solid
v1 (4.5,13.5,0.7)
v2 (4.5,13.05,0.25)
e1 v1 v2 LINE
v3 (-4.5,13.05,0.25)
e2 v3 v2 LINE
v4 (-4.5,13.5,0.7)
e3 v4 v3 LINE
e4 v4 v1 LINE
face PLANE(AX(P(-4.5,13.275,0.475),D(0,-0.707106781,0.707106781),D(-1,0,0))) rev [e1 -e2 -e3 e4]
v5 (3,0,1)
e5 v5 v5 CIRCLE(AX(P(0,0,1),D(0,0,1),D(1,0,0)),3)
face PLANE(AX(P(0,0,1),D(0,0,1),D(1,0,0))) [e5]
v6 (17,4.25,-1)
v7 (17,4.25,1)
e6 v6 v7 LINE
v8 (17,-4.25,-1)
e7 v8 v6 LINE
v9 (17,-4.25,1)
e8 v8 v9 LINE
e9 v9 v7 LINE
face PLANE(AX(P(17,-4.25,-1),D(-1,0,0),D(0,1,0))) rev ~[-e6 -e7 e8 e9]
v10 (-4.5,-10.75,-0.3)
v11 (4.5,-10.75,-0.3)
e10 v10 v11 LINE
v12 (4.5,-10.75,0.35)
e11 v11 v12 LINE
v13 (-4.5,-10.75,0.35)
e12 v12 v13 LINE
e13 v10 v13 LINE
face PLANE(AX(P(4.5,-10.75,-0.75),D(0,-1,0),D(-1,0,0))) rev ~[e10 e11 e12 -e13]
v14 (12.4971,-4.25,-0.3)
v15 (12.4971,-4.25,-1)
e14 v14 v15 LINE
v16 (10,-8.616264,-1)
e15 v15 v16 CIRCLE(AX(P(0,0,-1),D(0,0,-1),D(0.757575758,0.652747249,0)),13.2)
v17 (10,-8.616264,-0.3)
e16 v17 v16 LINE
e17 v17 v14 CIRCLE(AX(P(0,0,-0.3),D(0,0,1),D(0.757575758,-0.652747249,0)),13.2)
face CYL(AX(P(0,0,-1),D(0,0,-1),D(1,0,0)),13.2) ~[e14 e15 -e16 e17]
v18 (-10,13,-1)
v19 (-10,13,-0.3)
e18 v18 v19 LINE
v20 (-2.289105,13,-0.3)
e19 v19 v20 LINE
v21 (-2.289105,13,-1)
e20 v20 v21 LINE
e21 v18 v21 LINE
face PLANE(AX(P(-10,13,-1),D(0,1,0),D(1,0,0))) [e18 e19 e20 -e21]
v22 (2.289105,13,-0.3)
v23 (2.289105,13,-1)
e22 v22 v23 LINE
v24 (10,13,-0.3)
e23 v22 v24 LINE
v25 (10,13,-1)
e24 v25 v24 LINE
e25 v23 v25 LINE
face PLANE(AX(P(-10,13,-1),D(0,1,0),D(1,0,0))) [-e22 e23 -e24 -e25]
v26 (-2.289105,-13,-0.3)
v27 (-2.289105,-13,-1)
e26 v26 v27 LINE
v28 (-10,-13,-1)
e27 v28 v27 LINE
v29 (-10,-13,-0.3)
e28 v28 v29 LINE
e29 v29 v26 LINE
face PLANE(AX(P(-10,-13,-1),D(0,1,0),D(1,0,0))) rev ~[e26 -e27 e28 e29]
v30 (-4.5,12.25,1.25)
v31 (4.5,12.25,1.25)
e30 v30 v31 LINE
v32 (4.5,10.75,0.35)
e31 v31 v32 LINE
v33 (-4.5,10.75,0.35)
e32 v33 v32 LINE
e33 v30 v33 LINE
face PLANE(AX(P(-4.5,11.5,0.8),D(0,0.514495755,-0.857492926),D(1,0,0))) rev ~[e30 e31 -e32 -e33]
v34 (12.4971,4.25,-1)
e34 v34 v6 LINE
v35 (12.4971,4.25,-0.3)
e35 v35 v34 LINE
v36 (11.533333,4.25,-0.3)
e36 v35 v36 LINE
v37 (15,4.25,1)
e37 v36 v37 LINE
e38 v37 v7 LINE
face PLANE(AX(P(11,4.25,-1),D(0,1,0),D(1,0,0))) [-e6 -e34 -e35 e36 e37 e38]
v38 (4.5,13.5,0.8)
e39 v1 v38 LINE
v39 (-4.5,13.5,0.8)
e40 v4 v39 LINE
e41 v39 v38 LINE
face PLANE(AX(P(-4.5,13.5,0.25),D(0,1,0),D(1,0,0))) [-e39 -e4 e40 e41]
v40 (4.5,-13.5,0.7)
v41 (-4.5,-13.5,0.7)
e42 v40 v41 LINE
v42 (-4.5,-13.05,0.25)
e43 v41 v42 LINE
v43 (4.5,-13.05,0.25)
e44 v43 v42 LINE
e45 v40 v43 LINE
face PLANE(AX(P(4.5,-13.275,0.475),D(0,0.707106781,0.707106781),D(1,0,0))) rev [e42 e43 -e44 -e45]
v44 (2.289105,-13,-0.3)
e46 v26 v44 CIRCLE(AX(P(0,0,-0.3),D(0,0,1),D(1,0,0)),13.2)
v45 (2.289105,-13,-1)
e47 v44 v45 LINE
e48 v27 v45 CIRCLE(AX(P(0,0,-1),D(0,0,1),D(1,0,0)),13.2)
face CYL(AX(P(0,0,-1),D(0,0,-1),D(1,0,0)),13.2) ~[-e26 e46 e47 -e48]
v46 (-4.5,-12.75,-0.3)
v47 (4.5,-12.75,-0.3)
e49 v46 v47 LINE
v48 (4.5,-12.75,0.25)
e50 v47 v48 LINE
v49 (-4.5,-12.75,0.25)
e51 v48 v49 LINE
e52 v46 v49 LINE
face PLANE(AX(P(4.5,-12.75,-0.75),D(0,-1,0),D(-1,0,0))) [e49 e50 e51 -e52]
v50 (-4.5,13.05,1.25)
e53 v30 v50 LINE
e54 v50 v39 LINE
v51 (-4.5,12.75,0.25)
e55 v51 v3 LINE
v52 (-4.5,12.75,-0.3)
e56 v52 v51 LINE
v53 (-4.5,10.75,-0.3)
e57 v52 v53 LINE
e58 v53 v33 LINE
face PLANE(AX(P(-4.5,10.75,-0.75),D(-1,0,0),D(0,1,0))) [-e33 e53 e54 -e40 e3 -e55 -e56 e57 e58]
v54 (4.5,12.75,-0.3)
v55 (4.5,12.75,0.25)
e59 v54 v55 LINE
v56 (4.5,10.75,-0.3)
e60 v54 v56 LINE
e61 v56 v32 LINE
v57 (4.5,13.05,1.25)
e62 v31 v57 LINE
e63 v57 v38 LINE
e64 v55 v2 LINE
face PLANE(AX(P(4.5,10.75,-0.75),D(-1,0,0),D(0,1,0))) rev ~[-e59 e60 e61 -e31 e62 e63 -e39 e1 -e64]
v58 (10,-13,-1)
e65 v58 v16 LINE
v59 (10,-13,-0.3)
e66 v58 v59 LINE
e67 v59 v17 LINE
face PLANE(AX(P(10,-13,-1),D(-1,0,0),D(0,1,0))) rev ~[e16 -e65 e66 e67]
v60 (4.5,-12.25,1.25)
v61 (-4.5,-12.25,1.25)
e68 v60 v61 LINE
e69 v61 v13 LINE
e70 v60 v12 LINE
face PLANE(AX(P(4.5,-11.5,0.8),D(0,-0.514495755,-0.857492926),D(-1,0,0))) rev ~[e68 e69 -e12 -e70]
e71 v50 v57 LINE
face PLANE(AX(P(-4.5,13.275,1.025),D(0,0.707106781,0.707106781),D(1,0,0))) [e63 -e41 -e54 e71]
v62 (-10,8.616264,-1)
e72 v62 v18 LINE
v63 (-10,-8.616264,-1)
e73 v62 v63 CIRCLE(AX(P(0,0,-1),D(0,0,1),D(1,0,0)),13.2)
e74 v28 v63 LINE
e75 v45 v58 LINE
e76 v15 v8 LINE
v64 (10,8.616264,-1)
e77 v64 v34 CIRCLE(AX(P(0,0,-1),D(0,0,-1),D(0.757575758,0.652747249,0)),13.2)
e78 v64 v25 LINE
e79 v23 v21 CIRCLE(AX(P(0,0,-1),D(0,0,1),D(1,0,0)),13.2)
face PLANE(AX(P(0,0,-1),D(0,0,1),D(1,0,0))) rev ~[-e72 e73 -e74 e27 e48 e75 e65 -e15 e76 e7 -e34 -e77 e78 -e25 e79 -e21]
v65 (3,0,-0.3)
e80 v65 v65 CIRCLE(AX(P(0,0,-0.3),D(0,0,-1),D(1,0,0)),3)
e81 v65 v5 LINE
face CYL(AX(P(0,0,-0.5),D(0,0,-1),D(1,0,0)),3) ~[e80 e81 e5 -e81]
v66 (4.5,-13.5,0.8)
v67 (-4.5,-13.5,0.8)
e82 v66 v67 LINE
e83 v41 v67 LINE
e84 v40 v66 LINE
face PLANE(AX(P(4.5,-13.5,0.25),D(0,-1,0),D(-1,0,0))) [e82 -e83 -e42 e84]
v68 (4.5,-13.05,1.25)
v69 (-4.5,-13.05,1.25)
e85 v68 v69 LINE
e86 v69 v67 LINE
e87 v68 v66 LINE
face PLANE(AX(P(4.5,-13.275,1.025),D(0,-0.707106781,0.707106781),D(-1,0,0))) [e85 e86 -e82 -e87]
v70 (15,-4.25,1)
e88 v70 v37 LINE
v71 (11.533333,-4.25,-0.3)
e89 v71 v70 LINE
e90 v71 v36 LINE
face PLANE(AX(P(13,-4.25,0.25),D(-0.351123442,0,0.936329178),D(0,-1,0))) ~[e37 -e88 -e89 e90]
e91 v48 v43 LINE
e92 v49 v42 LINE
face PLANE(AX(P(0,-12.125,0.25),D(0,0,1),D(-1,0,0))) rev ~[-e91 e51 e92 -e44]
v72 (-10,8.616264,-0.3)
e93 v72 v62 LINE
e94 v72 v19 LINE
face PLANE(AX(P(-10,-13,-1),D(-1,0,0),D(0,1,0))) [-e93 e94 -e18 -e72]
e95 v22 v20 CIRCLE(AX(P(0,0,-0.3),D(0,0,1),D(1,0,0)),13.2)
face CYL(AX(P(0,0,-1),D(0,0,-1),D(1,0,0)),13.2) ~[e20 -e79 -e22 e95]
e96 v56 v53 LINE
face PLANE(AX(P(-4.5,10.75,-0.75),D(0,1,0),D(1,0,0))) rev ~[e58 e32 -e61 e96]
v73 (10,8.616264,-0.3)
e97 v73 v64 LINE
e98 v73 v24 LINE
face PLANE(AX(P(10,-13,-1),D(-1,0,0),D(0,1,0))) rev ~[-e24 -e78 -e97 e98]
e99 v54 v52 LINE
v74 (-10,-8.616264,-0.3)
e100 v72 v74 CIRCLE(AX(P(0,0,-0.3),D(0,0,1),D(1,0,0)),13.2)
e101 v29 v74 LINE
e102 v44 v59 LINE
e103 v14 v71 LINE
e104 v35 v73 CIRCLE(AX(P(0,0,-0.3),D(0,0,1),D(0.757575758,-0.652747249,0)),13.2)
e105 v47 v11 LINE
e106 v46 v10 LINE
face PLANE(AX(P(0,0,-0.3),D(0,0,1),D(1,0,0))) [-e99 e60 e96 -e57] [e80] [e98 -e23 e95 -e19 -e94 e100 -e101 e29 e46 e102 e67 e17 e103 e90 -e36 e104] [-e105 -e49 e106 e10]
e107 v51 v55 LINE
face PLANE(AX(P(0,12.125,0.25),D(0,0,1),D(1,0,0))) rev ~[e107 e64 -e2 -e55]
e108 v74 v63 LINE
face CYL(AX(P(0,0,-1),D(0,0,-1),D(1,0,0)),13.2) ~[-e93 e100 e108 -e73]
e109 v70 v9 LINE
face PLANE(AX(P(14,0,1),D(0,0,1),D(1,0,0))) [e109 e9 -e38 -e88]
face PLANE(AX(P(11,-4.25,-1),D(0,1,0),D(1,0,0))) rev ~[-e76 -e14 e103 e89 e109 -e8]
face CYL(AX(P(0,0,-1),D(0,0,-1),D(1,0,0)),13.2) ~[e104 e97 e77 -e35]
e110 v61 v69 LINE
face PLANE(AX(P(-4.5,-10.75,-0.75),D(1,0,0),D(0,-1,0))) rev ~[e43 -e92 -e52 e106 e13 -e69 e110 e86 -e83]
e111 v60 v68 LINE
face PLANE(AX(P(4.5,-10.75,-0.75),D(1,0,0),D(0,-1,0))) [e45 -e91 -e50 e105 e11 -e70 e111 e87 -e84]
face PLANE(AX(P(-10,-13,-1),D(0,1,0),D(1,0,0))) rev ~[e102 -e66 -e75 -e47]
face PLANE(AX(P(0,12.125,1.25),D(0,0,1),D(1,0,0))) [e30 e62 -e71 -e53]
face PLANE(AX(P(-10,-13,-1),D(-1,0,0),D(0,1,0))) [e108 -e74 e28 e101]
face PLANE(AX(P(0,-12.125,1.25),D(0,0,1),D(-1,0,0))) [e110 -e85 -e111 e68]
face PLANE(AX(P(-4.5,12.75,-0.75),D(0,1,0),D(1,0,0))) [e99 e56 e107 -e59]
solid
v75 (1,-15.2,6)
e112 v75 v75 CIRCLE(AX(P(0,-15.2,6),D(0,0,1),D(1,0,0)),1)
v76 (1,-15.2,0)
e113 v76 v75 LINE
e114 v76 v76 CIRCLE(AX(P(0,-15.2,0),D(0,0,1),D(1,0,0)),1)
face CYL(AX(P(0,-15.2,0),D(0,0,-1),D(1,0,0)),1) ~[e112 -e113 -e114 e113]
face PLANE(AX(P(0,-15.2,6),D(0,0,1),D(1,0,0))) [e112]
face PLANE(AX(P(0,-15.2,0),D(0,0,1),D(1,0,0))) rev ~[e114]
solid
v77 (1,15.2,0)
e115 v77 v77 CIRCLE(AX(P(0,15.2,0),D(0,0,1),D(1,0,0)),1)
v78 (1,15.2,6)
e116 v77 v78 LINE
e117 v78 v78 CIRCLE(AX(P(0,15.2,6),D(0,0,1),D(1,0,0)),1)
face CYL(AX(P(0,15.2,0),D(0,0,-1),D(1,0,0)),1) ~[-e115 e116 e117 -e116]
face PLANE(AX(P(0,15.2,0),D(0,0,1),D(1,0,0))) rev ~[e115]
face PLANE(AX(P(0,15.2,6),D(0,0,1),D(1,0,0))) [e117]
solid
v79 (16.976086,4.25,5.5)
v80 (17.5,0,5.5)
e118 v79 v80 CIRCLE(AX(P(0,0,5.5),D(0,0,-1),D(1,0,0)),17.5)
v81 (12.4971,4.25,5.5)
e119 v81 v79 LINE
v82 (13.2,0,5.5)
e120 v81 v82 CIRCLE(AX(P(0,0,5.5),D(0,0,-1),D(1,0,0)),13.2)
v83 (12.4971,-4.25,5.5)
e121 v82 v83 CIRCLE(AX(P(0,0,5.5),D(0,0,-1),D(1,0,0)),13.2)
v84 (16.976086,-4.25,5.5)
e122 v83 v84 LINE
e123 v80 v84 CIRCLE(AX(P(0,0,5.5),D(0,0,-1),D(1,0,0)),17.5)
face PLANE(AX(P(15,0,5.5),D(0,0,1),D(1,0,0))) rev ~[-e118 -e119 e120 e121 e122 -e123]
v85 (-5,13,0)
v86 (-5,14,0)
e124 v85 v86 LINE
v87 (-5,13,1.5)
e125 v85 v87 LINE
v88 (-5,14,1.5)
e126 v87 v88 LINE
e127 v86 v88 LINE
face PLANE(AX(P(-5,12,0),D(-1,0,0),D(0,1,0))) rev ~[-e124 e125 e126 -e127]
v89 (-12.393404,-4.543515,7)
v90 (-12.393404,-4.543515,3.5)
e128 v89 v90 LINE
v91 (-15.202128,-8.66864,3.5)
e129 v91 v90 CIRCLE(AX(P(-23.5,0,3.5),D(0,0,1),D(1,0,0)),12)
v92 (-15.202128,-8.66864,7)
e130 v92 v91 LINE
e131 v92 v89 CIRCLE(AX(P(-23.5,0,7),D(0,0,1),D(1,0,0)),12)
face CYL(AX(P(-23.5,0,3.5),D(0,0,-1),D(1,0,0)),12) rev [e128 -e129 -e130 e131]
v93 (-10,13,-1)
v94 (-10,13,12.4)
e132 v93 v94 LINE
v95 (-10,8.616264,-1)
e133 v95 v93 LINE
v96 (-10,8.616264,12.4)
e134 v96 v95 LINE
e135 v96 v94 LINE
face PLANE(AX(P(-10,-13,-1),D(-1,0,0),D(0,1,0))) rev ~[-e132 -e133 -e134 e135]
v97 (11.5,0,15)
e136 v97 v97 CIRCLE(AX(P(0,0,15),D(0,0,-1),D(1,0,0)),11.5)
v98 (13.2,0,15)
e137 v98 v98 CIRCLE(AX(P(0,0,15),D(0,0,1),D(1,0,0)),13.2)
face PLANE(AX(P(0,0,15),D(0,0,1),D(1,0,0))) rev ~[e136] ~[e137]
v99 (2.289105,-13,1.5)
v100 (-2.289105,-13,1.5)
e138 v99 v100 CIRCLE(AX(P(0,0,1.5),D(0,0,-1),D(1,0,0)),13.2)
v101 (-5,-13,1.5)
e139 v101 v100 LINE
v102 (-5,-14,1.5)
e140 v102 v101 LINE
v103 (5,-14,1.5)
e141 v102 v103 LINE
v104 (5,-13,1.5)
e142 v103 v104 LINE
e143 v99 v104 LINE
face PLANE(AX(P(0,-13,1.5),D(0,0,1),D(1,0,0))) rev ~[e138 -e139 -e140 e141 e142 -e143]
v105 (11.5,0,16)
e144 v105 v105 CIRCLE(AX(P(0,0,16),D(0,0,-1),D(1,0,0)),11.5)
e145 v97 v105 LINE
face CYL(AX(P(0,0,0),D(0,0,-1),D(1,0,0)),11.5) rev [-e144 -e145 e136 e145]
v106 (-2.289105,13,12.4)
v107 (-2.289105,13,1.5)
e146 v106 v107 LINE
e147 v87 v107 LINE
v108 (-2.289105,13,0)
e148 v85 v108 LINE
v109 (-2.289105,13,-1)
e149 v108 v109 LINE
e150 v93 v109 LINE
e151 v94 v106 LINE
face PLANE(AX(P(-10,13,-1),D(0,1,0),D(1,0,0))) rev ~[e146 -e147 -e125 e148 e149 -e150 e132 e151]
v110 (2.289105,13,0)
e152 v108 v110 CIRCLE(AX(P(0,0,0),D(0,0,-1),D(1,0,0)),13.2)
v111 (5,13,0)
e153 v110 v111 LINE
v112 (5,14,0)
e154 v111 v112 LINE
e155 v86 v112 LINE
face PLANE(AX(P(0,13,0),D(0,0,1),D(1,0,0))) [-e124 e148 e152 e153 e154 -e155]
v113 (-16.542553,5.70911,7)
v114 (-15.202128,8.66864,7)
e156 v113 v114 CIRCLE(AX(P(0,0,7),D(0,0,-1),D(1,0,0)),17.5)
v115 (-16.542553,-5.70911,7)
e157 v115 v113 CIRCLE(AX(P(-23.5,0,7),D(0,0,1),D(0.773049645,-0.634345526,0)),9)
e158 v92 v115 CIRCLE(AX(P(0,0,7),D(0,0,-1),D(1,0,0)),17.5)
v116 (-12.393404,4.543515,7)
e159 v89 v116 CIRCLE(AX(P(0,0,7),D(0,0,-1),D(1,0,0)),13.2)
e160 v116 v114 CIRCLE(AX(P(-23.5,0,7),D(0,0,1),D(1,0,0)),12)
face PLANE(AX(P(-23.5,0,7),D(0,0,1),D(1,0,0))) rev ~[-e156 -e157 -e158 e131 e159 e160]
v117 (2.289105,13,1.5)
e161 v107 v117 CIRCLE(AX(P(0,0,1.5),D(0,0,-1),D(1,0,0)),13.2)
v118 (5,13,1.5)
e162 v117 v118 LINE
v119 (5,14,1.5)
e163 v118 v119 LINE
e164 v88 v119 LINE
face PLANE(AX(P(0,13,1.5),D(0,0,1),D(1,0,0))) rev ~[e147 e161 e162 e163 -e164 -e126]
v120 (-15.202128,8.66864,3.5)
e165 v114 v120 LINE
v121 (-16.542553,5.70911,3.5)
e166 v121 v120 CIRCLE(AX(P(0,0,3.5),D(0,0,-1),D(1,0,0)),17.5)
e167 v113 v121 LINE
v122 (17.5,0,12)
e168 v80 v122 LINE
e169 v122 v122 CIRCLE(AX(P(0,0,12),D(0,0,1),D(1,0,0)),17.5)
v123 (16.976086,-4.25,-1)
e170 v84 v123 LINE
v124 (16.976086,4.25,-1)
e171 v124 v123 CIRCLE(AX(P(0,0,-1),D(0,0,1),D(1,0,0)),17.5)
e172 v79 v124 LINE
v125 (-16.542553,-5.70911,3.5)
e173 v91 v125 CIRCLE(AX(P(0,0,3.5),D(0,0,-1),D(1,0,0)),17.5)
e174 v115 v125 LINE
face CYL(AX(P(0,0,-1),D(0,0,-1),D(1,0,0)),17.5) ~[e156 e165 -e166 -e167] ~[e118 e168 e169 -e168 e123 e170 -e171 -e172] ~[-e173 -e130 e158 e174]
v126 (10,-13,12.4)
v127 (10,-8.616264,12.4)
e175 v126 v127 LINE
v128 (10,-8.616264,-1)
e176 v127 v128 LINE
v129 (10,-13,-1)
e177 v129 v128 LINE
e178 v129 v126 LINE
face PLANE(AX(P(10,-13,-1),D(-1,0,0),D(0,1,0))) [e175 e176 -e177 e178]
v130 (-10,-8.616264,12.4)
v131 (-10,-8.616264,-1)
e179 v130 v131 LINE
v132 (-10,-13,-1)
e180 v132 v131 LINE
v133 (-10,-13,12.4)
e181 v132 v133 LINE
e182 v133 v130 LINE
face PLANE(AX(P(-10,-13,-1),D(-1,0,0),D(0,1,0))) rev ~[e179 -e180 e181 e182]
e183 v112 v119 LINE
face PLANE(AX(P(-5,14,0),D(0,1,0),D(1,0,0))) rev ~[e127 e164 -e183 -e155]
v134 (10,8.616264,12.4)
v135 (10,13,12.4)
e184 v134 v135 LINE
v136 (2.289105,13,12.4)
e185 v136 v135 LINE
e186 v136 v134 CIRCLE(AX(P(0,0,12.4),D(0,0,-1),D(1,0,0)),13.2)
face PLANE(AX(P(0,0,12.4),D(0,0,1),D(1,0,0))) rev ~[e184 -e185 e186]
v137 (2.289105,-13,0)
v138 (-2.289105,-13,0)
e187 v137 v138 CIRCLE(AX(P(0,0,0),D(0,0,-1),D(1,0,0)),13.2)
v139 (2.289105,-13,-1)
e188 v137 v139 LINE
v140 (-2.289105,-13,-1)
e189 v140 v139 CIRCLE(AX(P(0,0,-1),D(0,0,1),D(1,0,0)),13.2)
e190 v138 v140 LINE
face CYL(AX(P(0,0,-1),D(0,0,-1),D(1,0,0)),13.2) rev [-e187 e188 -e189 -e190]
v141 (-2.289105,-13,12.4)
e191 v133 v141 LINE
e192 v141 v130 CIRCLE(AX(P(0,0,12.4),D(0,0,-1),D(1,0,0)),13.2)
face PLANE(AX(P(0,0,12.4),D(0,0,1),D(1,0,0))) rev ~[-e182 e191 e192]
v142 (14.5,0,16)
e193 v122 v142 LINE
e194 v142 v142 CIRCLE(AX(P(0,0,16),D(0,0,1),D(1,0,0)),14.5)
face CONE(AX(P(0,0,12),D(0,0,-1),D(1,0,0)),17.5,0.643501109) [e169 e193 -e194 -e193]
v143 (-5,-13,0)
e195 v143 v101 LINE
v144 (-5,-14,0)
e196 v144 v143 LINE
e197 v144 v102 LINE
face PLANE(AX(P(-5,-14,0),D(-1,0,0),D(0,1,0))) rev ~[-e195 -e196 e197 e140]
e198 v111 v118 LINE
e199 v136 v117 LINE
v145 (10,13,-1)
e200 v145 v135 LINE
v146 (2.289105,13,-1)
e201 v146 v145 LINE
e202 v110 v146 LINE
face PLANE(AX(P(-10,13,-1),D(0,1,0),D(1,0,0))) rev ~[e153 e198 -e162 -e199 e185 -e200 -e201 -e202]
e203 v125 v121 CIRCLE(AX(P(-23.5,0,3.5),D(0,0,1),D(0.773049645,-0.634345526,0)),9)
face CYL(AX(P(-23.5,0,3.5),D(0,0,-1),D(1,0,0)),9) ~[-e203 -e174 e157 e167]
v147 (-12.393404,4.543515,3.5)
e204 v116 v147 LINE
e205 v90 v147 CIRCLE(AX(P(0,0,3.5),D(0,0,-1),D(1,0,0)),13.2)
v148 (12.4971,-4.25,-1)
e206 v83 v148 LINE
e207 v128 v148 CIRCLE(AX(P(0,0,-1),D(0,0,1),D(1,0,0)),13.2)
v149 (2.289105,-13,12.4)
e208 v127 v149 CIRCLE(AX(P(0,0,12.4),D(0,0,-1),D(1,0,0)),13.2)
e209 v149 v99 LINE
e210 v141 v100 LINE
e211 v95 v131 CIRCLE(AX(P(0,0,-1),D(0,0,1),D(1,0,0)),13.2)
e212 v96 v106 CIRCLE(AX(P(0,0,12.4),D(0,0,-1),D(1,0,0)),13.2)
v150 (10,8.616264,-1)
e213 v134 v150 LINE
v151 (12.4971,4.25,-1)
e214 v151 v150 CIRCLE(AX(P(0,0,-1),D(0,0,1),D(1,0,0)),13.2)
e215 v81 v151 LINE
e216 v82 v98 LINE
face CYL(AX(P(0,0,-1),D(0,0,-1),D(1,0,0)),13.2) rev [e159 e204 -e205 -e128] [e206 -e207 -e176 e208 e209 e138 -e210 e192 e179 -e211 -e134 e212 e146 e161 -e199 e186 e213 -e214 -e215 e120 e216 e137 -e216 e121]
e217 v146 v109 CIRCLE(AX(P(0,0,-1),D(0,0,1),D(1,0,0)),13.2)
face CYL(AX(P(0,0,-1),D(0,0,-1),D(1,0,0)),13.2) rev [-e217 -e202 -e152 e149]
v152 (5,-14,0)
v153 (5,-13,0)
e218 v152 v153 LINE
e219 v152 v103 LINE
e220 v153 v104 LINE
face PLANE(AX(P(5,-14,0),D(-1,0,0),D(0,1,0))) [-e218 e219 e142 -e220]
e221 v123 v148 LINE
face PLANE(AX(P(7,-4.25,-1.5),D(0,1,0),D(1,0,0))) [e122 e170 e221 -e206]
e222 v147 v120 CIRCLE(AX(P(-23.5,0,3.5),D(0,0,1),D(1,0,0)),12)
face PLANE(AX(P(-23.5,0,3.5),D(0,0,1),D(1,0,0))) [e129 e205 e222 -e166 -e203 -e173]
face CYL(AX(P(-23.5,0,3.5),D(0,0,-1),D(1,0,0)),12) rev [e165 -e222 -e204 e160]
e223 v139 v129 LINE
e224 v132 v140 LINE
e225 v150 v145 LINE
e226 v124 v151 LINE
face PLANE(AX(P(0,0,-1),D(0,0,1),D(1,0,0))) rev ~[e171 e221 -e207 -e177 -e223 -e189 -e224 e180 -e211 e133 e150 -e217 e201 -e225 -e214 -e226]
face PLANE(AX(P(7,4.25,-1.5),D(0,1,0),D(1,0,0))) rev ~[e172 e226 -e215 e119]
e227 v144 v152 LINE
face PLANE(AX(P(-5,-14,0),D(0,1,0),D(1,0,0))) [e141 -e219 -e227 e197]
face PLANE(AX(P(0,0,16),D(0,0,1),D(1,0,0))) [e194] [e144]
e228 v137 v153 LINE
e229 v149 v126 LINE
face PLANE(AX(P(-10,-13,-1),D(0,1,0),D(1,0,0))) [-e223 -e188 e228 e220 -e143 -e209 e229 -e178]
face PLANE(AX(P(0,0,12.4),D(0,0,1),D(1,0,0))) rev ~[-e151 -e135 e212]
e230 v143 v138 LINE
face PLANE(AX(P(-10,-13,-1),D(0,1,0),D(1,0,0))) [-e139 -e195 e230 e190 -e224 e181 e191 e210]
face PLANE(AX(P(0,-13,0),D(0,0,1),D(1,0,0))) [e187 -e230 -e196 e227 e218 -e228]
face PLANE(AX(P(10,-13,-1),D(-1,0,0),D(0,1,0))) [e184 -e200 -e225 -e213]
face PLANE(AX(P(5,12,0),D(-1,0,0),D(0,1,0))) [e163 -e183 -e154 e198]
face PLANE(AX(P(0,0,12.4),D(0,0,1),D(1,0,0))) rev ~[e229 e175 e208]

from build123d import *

# Parameters (mm, degrees)
CYLINDER007_R              = 1
CYLINDER007_DEPTH          = 6
CYLINDER008_R              = 1
CYLINDER008_DEPTH          = 6
CYLINDER002_R              = 11.5
CYLINDER002_DEPTH          = 30
BOX_W                      = 20
BOX_H                      = 26
BOX_DEPTH                  = 13.4
BOX001_W                   = 16
BOX001_H                   = 8.5
BOX001_DEPTH               = 7
CYLINDER018_R              = 9
CYLINDER018_DEPTH          = 3.5
CYLINDER017_R              = 12
CYLINDER017_DEPTH          = 3.5
BOX006_W                   = 10
BOX006_H                   = 2
BOX006_DEPTH               = 1.5
BOX007_W                   = 10
BOX007_H                   = 2
BOX007_DEPTH               = 1.5
CYLINDER_R                 = 13.2
CYLINDER_DEPTH             = 16
CYLINDER006_R              = 17.5
CYLINDER006_DEPTH          = 17
CHAMFER_SIZE2              = 3
CHAMFER_SIZE               = 4
BOX002_W                   = 20
BOX002_H                   = 26
BOX002_DEPTH               = 0.7
CYLINDER016_R              = 3
CYLINDER016_DEPTH          = 1.5
BOX003_W                   = 6
BOX003_H                   = 8.5
BOX003_DEPTH               = 2
CHAMFER004_SIZE2           = 4
CHAMFER004_SIZE            = 1.5
BOX008_W                   = 9
BOX008_H                   = 2
BOX008_DEPTH               = 1
BOX004_W                   = 9
BOX004_H                   = 2.75
BOX004_DEPTH               = 1
CHAMFER005_SIZE2           = 0.9
CHAMFER005_SIZE            = 1.5
CHAMFER006_SIZE            = 0.45
CHAMFER006_PLACEMENT_ANGLE = 180
CHAMFER007_SIZE            = 0.45
CYLINDER019_R              = 13.2
CYLINDER019_DEPTH          = 0.7


with BuildPart() as r_screw:
    # Cylinder007 → Cylinder007 (new body)
    with BuildSketch(Plane(origin=(0, -15.2, 0), x_dir=(1, 0, 0), z_dir=(0, 0, 1))):
        Circle(CYLINDER007_R)
    extrude(amount=CYLINDER007_DEPTH)


with BuildPart() as l_screw:
    # Cylinder008 → Cylinder008 (new body)
    with BuildSketch(Plane(origin=(0, 15.2, 0), x_dir=(1, 0, 0), z_dir=(0, 0, 1))):
        Circle(CYLINDER008_R)
    extrude(amount=CYLINDER008_DEPTH)


with BuildPart() as diffuserhole:
    # Cylinder002 → Cylinder002 (new body)
    with BuildSketch(Plane.XY):
        Circle(CYLINDER002_R)
    extrude(amount=CYLINDER002_DEPTH)


with BuildPart() as batteryhole:
    # Box → Box (new body)
    with BuildSketch(Plane(origin=(-10, -13, -1), x_dir=(1, 0, 0), z_dir=(0, 0, 1))):
        with Locations((10, 13)):
            Rectangle(BOX_W, BOX_H)
    extrude(amount=BOX_DEPTH)


with BuildPart() as usb:
    # Box001 → Box001 (new body)
    with BuildSketch(Plane(origin=(7, -4.25, -1.5), x_dir=(1, 0, 0), z_dir=(0, 0, 1))):
        with Locations((8, 4.25)):
            Rectangle(BOX001_W, BOX001_H)
    extrude(amount=BOX001_DEPTH)


with BuildPart() as cylinder001:
    # Cylinder018 → Cylinder018 (new body)
    with BuildSketch(Plane(origin=(-23.5, 0, 3.5), x_dir=(1, 0, 0), z_dir=(0, 0, 1))):
        Circle(CYLINDER018_R)
    extrude(amount=CYLINDER018_DEPTH)


with BuildPart() as chain_channel:
    # Cylinder017 → Cylinder017 (new body)
    with BuildSketch(Plane(origin=(-23.5, 0, 3.5), x_dir=(1, 0, 0), z_dir=(0, 0, 1))):
        Circle(CYLINDER017_R)
    extrude(amount=CYLINDER017_DEPTH)

    # Cut002: cut Cylinder001
    add(cylinder001.part, mode=Mode.SUBTRACT)


with BuildPart() as tab_2_female:
    # Box006 → Box006 (new body)
    with BuildSketch(Plane(origin=(-5, -14, 0), x_dir=(1, 0, 0), z_dir=(0, 0, 1))):
        with Locations((5, 1)):
            Rectangle(BOX006_W, BOX006_H)
    extrude(amount=BOX006_DEPTH)


with BuildPart() as tab_1_female:
    # Box007 → Box007 (new body)
    with BuildSketch(Plane(origin=(-5, 12, 0), x_dir=(1, 0, 0), z_dir=(0, 0, 1))):
        with Locations((5, 1)):
            Rectangle(BOX007_W, BOX007_H)
    extrude(amount=BOX007_DEPTH)


with BuildPart() as guts:
    # Cylinder → Cylinder (new body)
    with BuildSketch(Plane.XY.offset(-1)):
        Circle(CYLINDER_R)
    extrude(amount=CYLINDER_DEPTH)

    # Fusion: union DiffuserHole, BatteryHole, USB, Chain Channel, Tab 2 Female, Tab 1 Female
    add(diffuserhole.part)
    add(batteryhole.part)
    add(usb.part)
    add(chain_channel.part)
    add(tab_2_female.part)
    add(tab_1_female.part)


with BuildPart() as front:
    # Cylinder006 → Cylinder006 (new body)
    with BuildSketch(Plane.XY.offset(-1)):
        Circle(CYLINDER006_R)
    extrude(amount=CYLINDER006_DEPTH)

    # Chamfer
    chamfer_edges = [front.edges().sort_by_distance(p)[0] for p in [
        (-17.5, 0, 16),
    ]]
    chamfer_side = front.faces().sort_by_distance((-17.5, 0, 7.5))[0]
    chamfer(chamfer_edges, length=CHAMFER_SIZE, length2=CHAMFER_SIZE2, reference=chamfer_side)

    # Cut: cut Guts
    add(guts.part, mode=Mode.SUBTRACT)


with BuildPart() as batteryhole001:
    # Box002 → Box002 (new body)
    with BuildSketch(Plane(origin=(-10, -13, -1), x_dir=(1, 0, 0), z_dir=(0, 0, 1))):
        with Locations((10, 13)):
            Rectangle(BOX002_W, BOX002_H)
    extrude(amount=BOX002_DEPTH)


with BuildPart() as button_presser:
    # Cylinder016 → Cylinder016 (new body)
    with BuildSketch(Plane.XY.offset(-0.5)):
        Circle(CYLINDER016_R)
    extrude(amount=CYLINDER016_DEPTH)


with BuildPart() as usb_cover:
    # Box003 → Box003 (new body)
    with BuildSketch(Plane(origin=(11, -4.25, -1), x_dir=(1, 0, 0), z_dir=(0, 0, 1))):
        with Locations((3, 4.25)):
            Rectangle(BOX003_W, BOX003_H)
    extrude(amount=BOX003_DEPTH)

    # Chamfer004
    chamfer004_edges = [usb_cover.edges().sort_by_distance(p)[0] for p in [
        (11, 0, 1),
    ]]
    chamfer004_side = usb_cover.faces().sort_by_distance((11, 0, 0))[0]
    chamfer(chamfer004_edges, length=CHAMFER004_SIZE, length2=CHAMFER004_SIZE2, reference=chamfer004_side)


with BuildPart() as tab_base:
    # Box008 → Box008 (new body)
    with BuildSketch(Plane(origin=(-4.5, 10.75, -0.75), x_dir=(1, 0, 0), z_dir=(0, 0, 1))):
        with Locations((4.5, 1)):
            Rectangle(BOX008_W, BOX008_H)
    extrude(amount=BOX008_DEPTH)


with BuildPart() as chamfer005:
    # Box004 → Box004 (new body)
    with BuildSketch(Plane(origin=(-4.5, 10.75, 0.25), x_dir=(1, 0, 0), z_dir=(0, 0, 1))):
        with Locations((4.5, 1.375)):
            Rectangle(BOX004_W, BOX004_H)
    extrude(amount=BOX004_DEPTH)

    # Fusion002: union Tab Base
    add(tab_base.part)

    # Chamfer005
    chamfer005_edges = [chamfer005.edges().sort_by_distance(p)[0] for p in [
        (0, 10.75, 1.25),
    ]]
    chamfer005_side = chamfer005.faces().sort_by_distance((0, 12.125, 1.25))[0]
    chamfer(chamfer005_edges, length=CHAMFER005_SIZE, length2=CHAMFER005_SIZE2, reference=chamfer005_side)


with BuildPart() as chamfer006:
    # Chamfer006 base: copy of Chamfer005
    add(chamfer005.part)

    # Chamfer006
    chamfer006_edges = [chamfer006.edges().sort_by_distance(p)[0] for p in [
        (0, 13.5, 1.25),
        (0, 13.5, 0.25),
    ]]
    chamfer(chamfer006_edges, length=CHAMFER006_SIZE)


with BuildPart() as chamfer006_1:
    # Chamfer006 placement: moved
    add(chamfer006.part.rotate(Axis((0, 0, 0), (0, 0, 1)), CHAMFER006_PLACEMENT_ANGLE))


with BuildPart() as chamfer007:
    # Chamfer007 base: copy of Chamfer005
    add(chamfer005.part)

    # Chamfer007
    chamfer007_edges = [chamfer007.edges().sort_by_distance(p)[0] for p in [
        (0, 13.5, 1.25),
        (0, 13.5, 0.25),
    ]]
    chamfer(chamfer007_edges, length=CHAMFER007_SIZE)


with BuildPart() as back:
    # Cylinder019 → Cylinder019 (new body)
    with BuildSketch(Plane.XY.offset(-1)):
        Circle(CYLINDER019_R)
    extrude(amount=CYLINDER019_DEPTH)

    # Fusion001: union BatteryHole001, Button Presser, USB Cover, Chamfer006, Chamfer007
    add(batteryhole001.part)
    add(button_presser.part)
    add(usb_cover.part)
    add(chamfer006_1.part)
    add(chamfer007.part)


solid = Compound([r_screw.part, l_screw.part, front.part, back.part])
